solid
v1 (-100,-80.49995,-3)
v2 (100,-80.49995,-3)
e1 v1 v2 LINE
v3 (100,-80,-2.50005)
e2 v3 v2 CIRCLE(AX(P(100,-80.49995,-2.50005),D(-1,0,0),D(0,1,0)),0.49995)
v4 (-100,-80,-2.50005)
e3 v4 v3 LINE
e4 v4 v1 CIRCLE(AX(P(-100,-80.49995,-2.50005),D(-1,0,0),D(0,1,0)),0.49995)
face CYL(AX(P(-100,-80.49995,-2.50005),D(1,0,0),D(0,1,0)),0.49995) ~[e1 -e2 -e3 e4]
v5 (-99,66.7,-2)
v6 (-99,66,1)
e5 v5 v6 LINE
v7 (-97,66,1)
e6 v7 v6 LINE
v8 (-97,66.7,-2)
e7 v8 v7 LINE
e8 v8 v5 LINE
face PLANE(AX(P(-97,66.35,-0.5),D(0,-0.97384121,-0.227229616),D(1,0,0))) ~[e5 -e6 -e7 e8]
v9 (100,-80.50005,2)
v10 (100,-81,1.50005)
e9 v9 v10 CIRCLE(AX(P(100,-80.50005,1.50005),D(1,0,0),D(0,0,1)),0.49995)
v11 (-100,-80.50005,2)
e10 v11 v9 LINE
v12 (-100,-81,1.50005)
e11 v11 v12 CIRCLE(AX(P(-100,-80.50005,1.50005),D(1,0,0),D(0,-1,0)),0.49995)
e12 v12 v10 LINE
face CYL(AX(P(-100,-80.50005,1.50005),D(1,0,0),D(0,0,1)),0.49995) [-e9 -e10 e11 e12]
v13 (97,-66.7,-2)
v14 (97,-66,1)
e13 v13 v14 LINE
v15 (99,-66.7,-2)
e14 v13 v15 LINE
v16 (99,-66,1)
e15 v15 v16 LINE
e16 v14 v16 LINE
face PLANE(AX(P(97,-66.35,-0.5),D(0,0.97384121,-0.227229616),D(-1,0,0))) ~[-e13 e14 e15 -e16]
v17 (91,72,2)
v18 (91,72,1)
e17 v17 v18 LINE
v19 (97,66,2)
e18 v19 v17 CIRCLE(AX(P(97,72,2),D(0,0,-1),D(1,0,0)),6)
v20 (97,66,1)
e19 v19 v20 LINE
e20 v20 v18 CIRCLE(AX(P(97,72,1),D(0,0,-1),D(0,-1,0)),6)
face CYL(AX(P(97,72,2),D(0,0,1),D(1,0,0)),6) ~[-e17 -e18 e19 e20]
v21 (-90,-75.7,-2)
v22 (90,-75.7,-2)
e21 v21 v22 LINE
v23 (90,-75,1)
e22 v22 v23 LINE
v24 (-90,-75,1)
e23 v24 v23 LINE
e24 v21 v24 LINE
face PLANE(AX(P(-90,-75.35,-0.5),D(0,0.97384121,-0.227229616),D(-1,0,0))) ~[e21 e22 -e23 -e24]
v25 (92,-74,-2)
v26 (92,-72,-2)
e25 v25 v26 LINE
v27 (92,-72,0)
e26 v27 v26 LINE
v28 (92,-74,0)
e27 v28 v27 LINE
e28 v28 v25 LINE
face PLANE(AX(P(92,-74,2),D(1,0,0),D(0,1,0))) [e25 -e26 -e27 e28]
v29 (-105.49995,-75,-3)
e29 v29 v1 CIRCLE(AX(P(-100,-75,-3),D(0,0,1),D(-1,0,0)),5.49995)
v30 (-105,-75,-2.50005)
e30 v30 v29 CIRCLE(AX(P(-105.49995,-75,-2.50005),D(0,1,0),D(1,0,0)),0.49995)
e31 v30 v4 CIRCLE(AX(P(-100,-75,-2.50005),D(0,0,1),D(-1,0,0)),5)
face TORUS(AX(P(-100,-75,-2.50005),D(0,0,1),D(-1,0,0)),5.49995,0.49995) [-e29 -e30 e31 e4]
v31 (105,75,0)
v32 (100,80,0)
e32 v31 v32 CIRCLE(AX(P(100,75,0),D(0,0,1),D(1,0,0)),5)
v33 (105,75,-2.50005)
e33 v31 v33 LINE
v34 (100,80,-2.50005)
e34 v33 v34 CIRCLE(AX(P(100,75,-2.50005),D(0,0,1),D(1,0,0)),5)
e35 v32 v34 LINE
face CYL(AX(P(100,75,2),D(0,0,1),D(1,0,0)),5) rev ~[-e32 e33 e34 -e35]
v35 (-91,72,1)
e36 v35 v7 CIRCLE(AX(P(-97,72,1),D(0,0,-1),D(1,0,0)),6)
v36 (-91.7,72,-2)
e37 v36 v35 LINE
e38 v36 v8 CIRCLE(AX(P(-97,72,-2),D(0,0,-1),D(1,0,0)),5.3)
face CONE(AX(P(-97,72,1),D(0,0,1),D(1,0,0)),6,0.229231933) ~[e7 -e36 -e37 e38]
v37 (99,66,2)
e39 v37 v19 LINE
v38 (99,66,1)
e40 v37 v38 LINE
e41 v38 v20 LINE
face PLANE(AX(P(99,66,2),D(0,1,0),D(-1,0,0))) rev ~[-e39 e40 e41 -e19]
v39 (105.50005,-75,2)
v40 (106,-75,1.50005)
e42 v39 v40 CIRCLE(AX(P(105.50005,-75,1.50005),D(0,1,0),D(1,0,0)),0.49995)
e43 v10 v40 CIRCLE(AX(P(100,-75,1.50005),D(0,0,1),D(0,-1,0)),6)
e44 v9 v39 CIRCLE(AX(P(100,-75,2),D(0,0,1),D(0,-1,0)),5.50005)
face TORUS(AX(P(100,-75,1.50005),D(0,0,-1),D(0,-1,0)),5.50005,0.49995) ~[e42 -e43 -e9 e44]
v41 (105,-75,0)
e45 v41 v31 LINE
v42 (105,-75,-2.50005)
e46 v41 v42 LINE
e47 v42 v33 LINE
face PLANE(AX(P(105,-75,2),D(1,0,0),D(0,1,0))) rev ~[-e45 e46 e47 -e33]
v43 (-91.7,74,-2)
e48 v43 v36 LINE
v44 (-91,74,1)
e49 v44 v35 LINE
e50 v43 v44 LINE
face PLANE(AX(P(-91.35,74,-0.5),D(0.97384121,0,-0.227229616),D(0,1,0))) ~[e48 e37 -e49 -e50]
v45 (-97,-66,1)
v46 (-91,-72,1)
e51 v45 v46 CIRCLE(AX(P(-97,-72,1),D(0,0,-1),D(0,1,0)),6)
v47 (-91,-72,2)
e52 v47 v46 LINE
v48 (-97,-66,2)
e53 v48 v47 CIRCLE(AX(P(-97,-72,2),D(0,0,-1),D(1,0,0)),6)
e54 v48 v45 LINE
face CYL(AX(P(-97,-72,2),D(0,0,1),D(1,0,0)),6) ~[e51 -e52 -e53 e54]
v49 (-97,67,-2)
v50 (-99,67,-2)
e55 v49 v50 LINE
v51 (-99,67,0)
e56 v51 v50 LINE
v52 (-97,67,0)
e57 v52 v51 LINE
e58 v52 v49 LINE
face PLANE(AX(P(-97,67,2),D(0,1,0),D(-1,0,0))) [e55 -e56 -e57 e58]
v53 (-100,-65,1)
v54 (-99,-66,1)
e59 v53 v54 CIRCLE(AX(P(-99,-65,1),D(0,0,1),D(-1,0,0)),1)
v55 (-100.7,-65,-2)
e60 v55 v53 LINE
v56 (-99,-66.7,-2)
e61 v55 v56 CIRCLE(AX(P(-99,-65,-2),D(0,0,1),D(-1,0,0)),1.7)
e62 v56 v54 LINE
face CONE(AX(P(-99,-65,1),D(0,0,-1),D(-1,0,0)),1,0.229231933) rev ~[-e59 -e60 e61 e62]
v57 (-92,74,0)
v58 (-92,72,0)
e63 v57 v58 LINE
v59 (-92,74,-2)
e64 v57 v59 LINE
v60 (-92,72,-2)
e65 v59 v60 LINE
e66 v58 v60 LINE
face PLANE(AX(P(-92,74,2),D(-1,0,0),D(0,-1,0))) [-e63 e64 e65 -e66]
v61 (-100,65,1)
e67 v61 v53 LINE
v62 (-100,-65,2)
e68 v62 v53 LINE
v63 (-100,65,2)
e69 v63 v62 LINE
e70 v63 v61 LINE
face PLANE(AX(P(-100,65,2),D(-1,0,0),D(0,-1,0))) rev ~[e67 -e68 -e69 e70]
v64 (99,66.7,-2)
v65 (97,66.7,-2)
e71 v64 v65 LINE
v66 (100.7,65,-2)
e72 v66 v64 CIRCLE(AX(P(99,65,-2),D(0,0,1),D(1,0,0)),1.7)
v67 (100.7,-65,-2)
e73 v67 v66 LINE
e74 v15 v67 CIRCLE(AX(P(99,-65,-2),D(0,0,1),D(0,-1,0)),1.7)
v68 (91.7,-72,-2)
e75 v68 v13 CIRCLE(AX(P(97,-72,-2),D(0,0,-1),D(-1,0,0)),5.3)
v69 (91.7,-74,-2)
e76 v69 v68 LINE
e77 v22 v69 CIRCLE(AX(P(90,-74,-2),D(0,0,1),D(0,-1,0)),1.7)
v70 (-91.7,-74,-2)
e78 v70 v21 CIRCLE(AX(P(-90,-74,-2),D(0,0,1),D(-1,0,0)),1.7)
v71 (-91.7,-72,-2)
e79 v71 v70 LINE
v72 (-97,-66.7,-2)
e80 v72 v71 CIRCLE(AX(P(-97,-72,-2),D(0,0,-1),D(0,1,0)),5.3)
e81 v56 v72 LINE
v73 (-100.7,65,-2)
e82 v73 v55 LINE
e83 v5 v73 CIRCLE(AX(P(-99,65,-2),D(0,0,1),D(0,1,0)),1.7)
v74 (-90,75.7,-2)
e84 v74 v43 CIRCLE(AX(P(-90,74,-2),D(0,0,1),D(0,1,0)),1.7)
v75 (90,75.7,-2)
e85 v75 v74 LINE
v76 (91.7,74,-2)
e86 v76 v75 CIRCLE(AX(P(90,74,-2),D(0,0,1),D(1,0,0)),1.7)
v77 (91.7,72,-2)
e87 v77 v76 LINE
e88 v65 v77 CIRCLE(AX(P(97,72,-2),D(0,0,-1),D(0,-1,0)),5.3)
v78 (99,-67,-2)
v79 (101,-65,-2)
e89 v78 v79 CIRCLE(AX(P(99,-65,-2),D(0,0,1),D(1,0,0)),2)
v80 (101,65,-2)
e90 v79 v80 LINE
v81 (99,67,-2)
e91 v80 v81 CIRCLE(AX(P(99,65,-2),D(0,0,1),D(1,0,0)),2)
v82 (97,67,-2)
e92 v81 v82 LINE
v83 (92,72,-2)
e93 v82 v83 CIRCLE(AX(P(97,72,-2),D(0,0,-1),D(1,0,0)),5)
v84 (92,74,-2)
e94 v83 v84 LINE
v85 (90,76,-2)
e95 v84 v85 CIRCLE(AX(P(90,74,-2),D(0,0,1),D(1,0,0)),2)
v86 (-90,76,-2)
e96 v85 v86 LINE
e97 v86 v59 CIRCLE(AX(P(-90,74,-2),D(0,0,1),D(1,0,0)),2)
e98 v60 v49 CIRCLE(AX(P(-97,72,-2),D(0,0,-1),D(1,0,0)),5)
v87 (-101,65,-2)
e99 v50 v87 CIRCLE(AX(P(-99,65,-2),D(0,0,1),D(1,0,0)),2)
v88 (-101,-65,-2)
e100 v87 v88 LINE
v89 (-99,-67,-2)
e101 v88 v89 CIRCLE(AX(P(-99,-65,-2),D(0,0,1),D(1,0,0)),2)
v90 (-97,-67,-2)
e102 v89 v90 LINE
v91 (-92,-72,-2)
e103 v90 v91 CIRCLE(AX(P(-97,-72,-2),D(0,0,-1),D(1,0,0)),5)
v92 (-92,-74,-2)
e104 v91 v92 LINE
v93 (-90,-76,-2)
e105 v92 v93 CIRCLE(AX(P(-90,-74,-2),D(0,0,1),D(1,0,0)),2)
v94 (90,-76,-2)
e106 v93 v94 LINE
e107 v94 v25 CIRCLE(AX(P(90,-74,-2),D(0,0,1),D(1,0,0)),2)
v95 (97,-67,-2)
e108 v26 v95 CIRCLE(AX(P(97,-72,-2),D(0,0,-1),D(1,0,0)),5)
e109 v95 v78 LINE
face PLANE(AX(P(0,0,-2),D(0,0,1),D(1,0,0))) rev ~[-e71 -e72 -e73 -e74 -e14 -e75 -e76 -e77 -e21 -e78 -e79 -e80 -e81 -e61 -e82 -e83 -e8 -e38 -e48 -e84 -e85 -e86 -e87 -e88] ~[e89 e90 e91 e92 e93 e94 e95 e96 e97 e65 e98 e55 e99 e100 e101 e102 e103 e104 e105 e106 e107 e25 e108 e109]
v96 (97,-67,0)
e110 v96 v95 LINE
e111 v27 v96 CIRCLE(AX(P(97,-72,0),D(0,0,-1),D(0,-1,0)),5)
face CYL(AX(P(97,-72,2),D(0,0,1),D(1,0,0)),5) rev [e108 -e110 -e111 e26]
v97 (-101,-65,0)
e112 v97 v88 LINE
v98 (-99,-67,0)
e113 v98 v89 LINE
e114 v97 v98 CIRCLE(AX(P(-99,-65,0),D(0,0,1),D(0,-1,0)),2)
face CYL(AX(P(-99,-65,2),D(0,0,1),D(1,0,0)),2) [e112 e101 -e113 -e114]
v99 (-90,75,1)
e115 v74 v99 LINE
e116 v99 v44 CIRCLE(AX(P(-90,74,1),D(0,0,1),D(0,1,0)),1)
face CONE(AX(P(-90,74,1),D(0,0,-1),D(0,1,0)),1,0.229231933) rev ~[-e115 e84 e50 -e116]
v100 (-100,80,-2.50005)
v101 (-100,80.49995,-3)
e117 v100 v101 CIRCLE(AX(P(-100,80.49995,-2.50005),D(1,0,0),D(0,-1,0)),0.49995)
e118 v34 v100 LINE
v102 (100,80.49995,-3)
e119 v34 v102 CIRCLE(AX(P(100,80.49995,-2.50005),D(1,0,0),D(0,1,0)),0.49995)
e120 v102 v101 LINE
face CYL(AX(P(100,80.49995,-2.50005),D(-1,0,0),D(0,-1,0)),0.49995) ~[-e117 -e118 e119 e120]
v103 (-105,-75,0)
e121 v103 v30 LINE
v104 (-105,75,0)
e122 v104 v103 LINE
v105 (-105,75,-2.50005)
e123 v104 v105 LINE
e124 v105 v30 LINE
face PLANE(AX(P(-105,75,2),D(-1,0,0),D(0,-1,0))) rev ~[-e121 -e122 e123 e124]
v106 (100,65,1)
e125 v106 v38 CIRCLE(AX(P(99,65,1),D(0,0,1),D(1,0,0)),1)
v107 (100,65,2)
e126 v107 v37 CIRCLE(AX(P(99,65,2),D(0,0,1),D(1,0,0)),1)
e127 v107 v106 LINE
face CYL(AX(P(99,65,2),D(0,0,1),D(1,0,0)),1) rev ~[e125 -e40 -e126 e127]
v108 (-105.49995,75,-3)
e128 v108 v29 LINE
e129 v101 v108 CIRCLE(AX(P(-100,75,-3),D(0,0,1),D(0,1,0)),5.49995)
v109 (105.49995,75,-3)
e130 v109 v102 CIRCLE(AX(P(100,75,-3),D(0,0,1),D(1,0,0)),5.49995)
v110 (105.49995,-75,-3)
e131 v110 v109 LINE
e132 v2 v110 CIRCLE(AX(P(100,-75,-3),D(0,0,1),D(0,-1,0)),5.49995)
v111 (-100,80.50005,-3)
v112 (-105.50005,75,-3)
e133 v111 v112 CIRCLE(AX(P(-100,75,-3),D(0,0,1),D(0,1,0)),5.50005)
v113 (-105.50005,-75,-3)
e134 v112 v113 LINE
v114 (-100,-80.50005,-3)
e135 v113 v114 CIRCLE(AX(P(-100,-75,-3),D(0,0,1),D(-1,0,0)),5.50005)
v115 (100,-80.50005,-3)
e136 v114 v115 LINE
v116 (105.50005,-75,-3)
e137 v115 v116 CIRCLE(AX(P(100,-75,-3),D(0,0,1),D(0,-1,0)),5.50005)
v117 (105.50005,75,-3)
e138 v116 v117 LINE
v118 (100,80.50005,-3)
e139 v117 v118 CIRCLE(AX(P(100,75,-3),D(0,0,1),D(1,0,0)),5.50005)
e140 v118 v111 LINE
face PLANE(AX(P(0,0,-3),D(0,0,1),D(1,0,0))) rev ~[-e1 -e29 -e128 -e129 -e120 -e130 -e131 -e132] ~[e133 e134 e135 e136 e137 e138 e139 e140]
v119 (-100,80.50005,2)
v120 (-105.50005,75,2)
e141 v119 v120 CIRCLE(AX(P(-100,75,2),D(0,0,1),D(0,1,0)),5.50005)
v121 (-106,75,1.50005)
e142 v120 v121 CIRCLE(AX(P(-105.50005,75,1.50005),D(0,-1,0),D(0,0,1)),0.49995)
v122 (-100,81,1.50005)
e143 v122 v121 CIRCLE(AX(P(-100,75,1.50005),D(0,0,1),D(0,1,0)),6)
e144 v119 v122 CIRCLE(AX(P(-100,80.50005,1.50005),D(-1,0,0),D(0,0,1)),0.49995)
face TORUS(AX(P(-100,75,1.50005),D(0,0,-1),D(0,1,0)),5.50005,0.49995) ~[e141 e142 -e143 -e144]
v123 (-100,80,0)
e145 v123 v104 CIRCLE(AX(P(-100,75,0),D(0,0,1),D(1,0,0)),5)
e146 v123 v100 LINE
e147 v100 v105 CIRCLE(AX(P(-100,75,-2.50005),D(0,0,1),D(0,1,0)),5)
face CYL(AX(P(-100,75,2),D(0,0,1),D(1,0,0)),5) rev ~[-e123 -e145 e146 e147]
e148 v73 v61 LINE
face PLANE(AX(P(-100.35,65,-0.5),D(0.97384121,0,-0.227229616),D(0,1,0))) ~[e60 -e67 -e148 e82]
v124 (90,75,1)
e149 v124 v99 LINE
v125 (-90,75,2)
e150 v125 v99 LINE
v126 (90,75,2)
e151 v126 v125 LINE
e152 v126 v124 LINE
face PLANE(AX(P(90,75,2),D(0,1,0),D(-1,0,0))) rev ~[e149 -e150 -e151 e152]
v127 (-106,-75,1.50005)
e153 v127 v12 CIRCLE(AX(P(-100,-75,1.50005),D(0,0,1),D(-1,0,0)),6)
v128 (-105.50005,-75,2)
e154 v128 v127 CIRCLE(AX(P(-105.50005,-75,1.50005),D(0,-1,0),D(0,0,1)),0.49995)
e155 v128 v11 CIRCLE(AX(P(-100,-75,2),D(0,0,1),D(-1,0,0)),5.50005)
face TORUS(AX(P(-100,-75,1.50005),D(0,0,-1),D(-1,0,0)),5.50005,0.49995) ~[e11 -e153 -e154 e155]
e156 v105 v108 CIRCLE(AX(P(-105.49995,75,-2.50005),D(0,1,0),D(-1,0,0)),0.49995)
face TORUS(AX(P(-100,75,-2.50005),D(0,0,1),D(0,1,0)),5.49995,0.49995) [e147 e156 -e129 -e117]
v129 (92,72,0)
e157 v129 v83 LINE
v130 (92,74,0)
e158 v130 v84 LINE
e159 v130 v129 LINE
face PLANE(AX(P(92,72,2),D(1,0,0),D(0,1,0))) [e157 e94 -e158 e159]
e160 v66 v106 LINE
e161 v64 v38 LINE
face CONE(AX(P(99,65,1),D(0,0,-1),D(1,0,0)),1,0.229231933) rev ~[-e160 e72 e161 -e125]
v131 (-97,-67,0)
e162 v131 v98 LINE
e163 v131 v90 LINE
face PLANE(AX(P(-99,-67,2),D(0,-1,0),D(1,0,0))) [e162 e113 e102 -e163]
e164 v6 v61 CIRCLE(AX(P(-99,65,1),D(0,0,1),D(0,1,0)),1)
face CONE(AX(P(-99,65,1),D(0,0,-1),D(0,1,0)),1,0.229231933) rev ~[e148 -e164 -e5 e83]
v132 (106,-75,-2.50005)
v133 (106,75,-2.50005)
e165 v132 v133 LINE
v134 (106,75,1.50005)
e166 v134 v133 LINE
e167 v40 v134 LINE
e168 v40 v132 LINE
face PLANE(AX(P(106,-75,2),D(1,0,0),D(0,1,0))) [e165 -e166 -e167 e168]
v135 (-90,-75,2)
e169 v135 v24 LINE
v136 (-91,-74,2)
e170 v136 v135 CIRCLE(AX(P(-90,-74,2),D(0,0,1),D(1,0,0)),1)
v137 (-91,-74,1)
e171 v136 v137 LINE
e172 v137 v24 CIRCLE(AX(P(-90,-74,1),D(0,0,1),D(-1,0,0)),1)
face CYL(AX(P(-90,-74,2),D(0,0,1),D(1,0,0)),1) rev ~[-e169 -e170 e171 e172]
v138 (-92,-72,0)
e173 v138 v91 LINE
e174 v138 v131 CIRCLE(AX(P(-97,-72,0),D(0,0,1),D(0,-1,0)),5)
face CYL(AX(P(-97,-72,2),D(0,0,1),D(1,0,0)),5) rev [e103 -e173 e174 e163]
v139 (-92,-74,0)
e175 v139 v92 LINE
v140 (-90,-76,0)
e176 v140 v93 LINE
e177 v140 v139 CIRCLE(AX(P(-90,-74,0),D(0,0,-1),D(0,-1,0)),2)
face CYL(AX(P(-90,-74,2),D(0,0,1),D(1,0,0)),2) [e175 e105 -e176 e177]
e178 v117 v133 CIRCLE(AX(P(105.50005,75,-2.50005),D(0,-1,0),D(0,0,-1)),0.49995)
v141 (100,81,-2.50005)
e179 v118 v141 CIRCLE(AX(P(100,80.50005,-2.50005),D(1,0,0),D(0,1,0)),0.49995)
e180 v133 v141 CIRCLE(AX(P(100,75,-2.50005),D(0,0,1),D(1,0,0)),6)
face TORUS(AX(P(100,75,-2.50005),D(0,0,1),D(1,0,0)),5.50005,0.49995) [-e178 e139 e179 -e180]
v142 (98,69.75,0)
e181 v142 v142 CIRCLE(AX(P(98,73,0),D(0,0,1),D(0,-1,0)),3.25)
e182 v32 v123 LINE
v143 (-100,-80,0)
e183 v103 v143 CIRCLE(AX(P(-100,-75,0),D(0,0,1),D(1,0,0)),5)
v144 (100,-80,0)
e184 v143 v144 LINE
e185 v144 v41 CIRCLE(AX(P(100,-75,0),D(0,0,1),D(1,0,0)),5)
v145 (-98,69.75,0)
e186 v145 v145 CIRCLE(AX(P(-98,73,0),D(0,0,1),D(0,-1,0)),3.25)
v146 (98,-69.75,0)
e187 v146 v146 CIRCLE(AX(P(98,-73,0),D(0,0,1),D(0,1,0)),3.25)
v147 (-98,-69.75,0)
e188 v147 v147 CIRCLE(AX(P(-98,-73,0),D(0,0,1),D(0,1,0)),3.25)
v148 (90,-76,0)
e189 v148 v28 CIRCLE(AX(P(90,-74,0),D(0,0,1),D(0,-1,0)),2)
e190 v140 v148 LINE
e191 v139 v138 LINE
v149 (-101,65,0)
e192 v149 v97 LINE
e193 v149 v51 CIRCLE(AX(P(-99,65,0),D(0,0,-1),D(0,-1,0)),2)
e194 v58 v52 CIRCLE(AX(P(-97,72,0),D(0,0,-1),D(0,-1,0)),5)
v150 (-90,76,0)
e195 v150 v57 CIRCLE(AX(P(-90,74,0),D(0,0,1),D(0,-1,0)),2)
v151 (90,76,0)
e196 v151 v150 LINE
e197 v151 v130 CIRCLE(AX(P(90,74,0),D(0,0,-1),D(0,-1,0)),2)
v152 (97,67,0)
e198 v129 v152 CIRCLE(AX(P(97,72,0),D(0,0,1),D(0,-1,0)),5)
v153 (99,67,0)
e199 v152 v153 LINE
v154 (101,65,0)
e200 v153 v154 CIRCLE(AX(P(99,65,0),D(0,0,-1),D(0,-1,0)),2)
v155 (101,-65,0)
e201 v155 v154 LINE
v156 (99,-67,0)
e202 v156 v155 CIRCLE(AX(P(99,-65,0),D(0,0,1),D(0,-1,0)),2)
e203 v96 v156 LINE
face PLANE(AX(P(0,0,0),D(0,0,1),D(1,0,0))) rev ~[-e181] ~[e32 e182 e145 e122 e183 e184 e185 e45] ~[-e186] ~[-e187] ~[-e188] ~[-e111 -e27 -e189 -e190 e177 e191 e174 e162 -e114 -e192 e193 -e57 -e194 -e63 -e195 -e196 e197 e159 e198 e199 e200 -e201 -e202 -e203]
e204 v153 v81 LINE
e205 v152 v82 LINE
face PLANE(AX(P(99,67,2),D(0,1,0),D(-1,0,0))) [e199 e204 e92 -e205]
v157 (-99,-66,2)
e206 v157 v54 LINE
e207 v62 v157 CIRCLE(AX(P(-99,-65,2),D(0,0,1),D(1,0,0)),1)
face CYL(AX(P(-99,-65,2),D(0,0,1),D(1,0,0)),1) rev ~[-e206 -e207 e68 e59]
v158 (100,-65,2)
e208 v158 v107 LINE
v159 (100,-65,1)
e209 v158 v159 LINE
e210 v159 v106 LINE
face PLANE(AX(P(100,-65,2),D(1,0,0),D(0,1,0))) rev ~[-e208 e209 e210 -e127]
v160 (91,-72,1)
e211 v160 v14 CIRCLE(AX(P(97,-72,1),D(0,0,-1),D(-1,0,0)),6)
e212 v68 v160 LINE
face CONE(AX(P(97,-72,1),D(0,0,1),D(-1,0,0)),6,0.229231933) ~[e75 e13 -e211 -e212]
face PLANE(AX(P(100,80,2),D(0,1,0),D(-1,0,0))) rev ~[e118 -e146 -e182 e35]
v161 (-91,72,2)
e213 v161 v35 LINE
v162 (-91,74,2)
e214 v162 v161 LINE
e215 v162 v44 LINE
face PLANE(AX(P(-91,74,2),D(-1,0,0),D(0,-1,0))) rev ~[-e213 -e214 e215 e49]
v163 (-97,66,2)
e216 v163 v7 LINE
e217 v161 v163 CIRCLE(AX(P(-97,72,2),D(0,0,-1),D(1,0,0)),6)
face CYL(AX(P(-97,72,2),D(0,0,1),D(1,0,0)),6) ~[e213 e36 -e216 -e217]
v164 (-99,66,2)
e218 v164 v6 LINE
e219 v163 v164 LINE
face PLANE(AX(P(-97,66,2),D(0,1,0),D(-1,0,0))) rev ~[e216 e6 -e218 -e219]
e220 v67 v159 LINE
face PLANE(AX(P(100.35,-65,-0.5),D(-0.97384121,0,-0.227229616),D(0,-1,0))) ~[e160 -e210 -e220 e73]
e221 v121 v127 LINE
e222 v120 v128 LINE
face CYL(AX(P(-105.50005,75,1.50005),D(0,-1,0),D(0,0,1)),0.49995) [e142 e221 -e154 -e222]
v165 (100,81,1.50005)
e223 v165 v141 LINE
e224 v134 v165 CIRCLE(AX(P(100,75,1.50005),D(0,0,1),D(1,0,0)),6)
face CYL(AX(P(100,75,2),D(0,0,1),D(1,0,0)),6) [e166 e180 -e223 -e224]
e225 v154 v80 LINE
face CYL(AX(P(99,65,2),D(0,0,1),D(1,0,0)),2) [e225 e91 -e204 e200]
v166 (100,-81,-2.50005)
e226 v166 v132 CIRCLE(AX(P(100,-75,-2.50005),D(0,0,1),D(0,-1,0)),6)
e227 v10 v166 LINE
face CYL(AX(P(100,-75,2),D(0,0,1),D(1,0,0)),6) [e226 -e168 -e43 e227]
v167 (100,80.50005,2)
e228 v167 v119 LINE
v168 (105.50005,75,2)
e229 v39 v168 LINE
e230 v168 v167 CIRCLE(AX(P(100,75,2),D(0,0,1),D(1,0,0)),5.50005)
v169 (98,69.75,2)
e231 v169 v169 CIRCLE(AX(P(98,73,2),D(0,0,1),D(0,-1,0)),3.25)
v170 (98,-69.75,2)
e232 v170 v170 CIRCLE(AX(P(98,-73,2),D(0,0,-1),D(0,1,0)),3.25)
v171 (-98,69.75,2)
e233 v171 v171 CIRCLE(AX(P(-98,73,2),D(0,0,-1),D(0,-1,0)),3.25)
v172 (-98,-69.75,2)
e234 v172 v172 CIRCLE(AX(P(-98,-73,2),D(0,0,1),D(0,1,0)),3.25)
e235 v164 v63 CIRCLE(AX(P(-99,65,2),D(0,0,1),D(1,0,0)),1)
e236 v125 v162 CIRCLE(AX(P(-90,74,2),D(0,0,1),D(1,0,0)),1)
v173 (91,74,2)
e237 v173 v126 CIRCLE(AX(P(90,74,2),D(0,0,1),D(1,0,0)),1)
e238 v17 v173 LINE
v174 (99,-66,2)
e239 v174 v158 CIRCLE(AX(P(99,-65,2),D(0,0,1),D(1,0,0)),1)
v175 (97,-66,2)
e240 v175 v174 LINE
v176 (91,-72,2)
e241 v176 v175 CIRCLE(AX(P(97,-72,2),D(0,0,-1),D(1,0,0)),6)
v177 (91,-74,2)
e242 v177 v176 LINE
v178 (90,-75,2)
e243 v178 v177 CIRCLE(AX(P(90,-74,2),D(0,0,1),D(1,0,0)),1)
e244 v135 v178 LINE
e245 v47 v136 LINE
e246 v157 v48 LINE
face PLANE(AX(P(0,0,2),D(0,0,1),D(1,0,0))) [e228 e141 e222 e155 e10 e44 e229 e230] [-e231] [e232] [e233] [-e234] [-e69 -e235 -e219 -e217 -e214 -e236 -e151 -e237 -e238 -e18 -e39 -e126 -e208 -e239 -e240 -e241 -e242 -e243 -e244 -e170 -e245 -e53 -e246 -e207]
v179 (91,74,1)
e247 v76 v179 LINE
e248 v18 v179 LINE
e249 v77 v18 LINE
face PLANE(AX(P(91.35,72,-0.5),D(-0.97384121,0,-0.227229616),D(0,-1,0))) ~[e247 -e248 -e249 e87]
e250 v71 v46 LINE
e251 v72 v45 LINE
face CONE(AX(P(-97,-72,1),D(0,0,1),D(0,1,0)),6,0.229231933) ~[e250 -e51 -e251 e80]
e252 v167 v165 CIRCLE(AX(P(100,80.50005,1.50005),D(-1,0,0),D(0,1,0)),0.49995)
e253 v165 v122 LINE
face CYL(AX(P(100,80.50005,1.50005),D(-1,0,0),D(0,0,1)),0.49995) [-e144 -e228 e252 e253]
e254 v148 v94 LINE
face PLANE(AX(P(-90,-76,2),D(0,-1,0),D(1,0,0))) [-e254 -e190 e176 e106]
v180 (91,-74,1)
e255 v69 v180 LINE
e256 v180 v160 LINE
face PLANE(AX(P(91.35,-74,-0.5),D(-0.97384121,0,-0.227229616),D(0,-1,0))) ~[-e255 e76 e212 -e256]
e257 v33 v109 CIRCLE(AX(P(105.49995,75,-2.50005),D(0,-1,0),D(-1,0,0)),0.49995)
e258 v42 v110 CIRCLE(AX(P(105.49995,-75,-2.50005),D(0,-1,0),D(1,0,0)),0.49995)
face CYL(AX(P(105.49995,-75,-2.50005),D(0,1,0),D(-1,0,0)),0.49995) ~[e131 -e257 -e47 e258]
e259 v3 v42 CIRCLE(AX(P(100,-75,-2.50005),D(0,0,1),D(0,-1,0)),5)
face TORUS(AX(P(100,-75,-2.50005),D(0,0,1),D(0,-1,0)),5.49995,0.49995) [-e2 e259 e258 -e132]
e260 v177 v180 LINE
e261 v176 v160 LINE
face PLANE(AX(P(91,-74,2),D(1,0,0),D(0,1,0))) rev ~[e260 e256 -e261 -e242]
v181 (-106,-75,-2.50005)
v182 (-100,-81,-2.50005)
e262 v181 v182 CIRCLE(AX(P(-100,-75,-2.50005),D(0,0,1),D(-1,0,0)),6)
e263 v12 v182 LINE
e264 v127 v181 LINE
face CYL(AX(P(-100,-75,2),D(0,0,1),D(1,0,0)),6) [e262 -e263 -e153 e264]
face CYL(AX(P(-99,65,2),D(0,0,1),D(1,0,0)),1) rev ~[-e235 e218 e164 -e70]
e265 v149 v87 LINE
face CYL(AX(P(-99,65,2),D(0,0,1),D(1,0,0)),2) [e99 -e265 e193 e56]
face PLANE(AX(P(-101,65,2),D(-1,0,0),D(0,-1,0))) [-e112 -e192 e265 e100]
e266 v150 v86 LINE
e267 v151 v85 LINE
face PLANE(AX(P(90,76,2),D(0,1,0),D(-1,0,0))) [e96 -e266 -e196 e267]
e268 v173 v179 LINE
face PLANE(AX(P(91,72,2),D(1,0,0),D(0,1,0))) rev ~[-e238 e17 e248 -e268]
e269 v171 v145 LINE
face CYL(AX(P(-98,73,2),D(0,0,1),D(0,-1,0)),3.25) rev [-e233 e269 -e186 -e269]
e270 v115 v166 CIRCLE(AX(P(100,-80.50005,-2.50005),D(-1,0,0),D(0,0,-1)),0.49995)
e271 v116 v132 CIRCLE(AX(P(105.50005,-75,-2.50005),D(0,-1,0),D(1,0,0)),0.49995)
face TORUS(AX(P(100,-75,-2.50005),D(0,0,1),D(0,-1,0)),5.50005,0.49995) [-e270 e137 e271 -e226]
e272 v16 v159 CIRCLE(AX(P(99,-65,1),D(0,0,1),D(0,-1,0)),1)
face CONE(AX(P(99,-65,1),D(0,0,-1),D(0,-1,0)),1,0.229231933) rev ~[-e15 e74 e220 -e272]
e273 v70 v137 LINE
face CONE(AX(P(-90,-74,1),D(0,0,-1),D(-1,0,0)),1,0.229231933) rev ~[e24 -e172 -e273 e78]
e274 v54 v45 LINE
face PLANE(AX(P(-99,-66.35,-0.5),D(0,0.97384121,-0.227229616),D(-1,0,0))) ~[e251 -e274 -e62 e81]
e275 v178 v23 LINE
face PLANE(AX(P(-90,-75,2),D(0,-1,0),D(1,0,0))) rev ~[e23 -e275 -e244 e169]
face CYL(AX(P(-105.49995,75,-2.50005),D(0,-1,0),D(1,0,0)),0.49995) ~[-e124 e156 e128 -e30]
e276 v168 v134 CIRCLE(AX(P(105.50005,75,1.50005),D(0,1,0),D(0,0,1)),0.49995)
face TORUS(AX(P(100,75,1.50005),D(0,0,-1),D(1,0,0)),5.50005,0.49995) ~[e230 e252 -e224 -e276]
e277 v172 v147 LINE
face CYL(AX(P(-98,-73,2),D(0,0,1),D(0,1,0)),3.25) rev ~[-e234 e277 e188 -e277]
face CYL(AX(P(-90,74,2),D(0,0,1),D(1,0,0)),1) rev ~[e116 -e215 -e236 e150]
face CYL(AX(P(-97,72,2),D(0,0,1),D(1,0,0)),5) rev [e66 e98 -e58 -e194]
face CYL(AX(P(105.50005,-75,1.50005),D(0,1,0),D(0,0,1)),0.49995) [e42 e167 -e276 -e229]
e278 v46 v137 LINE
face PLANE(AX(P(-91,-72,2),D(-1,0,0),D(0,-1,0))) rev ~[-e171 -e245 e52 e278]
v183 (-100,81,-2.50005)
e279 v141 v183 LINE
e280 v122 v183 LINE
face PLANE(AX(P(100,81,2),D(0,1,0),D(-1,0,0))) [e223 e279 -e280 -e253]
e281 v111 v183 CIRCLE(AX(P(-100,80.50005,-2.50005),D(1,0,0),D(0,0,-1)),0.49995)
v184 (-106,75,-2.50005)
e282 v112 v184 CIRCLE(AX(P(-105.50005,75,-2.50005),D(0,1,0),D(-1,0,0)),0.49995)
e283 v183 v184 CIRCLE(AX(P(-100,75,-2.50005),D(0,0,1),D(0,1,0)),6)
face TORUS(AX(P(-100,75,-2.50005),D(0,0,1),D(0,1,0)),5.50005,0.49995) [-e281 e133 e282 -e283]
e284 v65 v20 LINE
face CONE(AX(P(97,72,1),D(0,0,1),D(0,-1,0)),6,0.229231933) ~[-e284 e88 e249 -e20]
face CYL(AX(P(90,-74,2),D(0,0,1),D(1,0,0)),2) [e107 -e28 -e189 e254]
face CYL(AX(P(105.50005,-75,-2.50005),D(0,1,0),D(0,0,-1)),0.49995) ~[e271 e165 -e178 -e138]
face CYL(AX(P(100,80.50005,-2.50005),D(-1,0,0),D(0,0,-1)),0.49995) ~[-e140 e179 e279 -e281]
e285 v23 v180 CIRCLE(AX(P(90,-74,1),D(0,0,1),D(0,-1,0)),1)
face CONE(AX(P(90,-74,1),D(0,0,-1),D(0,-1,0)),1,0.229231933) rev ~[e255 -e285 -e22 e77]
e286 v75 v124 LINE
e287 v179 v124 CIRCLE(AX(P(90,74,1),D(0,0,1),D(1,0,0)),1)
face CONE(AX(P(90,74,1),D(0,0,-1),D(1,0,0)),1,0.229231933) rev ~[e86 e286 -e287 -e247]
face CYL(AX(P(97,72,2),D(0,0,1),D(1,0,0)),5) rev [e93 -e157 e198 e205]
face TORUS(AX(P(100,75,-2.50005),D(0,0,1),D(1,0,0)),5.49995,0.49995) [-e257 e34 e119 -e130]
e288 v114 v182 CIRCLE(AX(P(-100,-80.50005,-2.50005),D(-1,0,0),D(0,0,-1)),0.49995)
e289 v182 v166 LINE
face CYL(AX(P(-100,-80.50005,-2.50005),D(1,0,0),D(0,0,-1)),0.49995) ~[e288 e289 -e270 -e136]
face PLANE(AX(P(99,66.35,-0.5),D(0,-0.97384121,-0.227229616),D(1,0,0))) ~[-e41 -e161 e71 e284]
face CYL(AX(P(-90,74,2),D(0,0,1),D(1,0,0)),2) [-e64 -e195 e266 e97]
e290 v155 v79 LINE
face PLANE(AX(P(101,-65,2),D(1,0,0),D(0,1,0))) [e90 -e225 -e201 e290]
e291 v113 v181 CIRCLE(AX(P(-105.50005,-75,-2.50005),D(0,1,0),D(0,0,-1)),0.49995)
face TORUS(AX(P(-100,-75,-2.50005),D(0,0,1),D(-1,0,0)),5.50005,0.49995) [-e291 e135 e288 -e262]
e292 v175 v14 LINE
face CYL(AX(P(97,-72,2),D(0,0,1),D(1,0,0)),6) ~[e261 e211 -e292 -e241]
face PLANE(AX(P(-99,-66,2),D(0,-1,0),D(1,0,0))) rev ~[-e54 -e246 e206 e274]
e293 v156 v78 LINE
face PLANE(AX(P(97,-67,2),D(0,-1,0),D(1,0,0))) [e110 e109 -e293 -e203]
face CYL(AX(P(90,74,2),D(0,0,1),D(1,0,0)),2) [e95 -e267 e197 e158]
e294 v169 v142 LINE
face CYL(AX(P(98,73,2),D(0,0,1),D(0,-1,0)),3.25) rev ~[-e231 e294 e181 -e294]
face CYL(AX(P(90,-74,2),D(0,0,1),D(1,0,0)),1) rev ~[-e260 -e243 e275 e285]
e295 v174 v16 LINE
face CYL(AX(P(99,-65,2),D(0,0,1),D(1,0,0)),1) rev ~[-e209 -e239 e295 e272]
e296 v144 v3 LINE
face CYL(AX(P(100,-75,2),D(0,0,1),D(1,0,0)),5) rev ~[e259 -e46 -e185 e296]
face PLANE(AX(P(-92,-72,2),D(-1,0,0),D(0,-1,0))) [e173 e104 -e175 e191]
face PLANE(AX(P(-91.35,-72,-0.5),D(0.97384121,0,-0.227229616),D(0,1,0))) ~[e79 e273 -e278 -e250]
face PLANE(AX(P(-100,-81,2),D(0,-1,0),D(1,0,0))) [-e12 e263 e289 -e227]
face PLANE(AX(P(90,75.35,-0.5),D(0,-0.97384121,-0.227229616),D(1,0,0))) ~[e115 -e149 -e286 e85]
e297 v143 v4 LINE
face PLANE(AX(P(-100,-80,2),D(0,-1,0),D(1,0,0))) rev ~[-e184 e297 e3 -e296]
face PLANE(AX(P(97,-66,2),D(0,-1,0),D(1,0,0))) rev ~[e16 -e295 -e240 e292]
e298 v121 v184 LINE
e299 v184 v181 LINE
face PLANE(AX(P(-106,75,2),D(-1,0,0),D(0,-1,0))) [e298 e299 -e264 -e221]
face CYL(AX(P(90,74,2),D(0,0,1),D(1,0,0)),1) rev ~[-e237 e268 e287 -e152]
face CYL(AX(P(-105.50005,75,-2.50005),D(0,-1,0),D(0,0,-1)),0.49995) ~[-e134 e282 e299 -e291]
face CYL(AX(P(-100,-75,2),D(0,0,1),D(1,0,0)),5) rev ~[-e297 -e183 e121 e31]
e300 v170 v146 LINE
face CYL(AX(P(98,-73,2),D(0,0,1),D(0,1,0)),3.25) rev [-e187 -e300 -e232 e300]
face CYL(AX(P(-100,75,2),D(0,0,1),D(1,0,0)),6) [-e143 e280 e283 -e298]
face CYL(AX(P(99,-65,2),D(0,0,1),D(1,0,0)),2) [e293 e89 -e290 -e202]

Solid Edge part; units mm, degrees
sketch "Sketch1" plane through (0, 0, 0) normal (0, 0, 1) x (1, 0, 0)
  line L0 (-101, 75) -> (-101, -75)
  arc A0 (-101, -75) -> (-100, -76) centre (-100, -75) ccw
  line L1 (-100, -76) -> (100, -76)
  arc A1 (100, -76) -> (101, -75) centre (100, -75) ccw
  line L2 (101, -75) -> (101, 75)
  arc A2 (101, 75) -> (100, 76) centre (100, 75) ccw
  line L3 (100, 76) -> (-100, 76)
  arc A3 (-100, 76) -> (-101, 75) centre (-100, 75) ccw
  line L4 (-100, -80) -> (100, -80)
  arc A4 (100, -80) -> (105, -75) centre (100, -75) ccw
  line L5 (105, -75) -> (105, 75)
  arc A5 (105, 75) -> (100, 80) centre (100, 75) ccw
  line L6 (100, 80) -> (-100, 80)
  arc A6 (-100, 80) -> (-105, 75) centre (-100, 75) ccw
  line L7 (-105, 75) -> (-105, -75)
  arc A7 (-105, -75) -> (-100, -80) centre (-100, -75) ccw
extrude "Protrusion1" add sketch "Sketch1" along normal blind 2
sketch "Sketch2" plane through (0, 0, 0) normal (0, 0, 1) x (1, 0, 0)
  line L0 (-92, 76) -> (-100, 76)
  arc A0 (-100, 76) -> (-101, 75) centre (-100, 75) ccw
  line L1 (-101, 75) -> (-101, 67)
  line L2 (-92, 67) -> (-101, 67)
  line L3 (-92, 76) -> (-92, 67)
  dimension "D1" = 9
extrude "Protrusion2" add sketch "Sketch2" along normal up to surface (2 mm away)
hole "Bohrung_1" at (-98, 73, 2) direction (0, 0, -1) diameter 6.5 end through all
fillet "Verrundung_1" radius 2 2 edges at (-92, 76, 1) (-101, 67, 1)
fillet "Verrundung_2" radius 5 1 edges at (-92, 67, 1)
mirror "Mirror1" about plane through (0, 0, 0) normal (1, 0, 0) of "Protrusion2", "Bohrung_1"
fillet "Round1" radius 2 2 edges at (92, 76, 1) (101, 67, 1)
fillet "Round2" radius 5 1 edges at (92, 67, 1)
mirror "Mirror2" about plane through (0, 0, 0) normal (0, -1, 0) of "Protrusion2", "Mirror1", "Bohrung_1"
fillet "Round3" radius 2 2 edges at (-92, -76, 1) (-101, -67, 1)
fillet "Round4" radius 5 1 edges at (-92, -67, 1)
fillet "Round5" radius 2 2 edges at (92, -76, 1) (101, -67, 1)
fillet "Round6" radius 5 1 edges at (92, -67, 1)
sketch "Sketch3" plane through (0, 0, 2) normal (0, 0, 1) x (1, 0, 0)
  line L0 (-100, 65) -> (-100, -65)
  arc A0 (-100, -65) -> (-99, -66) centre (-99, -65) ccw
  line L1 (-99, -66) -> (-97, -66)
  arc A1 (-97, -66) -> (-91, -72) centre (-97, -72) cw
  line L2 (-91, -72) -> (-91, -74)
  arc A2 (-91, -74) -> (-90, -75) centre (-90, -74) ccw
  line L3 (-90, -75) -> (90, -75)
  arc A3 (90, -75) -> (91, -74) centre (90, -74) ccw
  line L4 (91, -74) -> (91, -72)
  arc A4 (91, -72) -> (97, -66) centre (97, -72) cw
  line L5 (97, -66) -> (99, -66)
  arc A5 (99, -66) -> (100, -65) centre (99, -65) ccw
  line L6 (100, -65) -> (100, 65)
  arc A6 (100, 65) -> (99, 66) centre (99, 65) ccw
  line L7 (99, 66) -> (97, 66)
  arc A7 (97, 66) -> (91, 72) centre (97, 72) cw
  line L8 (91, 72) -> (91, 74)
  arc A8 (91, 74) -> (90, 75) centre (90, 74) ccw
  line L9 (90, 75) -> (-90, 75)
  arc A9 (-90, 75) -> (-91, 74) centre (-90, 74) ccw
  line L10 (-91, 74) -> (-91, 72)
  arc A10 (-91, 72) -> (-97, 66) centre (-97, 72) cw
  line L11 (-97, 66) -> (-99, 66)
  arc A11 (-99, 66) -> (-100, 65) centre (-99, 65) ccw
  line L12 (-92, 74) -> (-92, 72)
  arc A12 (-92, 72) -> (-97, 67) centre (-97, 72) cw
  line L13 (-97, 67) -> (-99, 67)
  arc A13 (-99, 67) -> (-101, 65) centre (-99, 65) ccw
  line L14 (-101, 65) -> (-101, -65)
  arc A14 (-101, -65) -> (-99, -67) centre (-99, -65) ccw
  line L15 (-99, -67) -> (-97, -67)
  arc A15 (-97, -67) -> (-92, -72) centre (-97, -72) cw
  line L16 (-92, -72) -> (-92, -74)
  arc A16 (-92, -74) -> (-90, -76) centre (-90, -74) ccw
  line L17 (-90, -76) -> (90, -76)
  arc A17 (90, -76) -> (92, -74) centre (90, -74) ccw
  line L18 (92, -74) -> (92, -72)
  arc A18 (92, -72) -> (97, -67) centre (97, -72) cw
  line L19 (97, -67) -> (99, -67)
  arc A19 (99, -67) -> (101, -65) centre (99, -65) ccw
  line L20 (101, -65) -> (101, 65)
  arc A20 (101, 65) -> (99, 67) centre (99, 65) ccw
  line L21 (99, 67) -> (97, 67)
  arc A21 (97, 67) -> (92, 72) centre (97, 72) cw
  line L22 (92, 72) -> (92, 74)
  arc A22 (92, 74) -> (90, 76) centre (90, 74) ccw
  line L23 (90, 76) -> (-90, 76)
  arc A23 (-90, 76) -> (-92, 74) centre (-90, 74) ccw
extrude "Ausprägung_6" add sketch "Sketch3" against normal blind 4
sketch "Sketch4" plane through (0, 0, 2) normal (0, 0, 1) x (1, 0, 0)
  line L0 (100, 81) -> (-100, 81)
  arc A0 (-100, 81) -> (-106, 75) centre (-100, 75) ccw
  line L1 (-106, 75) -> (-106, -75)
  arc A1 (-106, -75) -> (-100, -81) centre (-100, -75) ccw
  line L2 (-100, -81) -> (100, -81)
  arc A2 (100, -81) -> (106, -75) centre (100, -75) ccw
  line L3 (106, -75) -> (106, 75)
  arc A3 (106, 75) -> (100, 81) centre (100, 75) ccw
  line L4 (100, 80) -> (-100, 80)
  arc A4 (-100, 80) -> (-105, 75) centre (-100, 75) ccw
  line L5 (-105, 75) -> (-105, -75)
  arc A5 (-105, -75) -> (-100, -80) centre (-100, -75) ccw
  line L6 (-100, -80) -> (100, -80)
  arc A6 (100, -80) -> (105, -75) centre (100, -75) ccw
  line L7 (105, -75) -> (105, 75)
  arc A7 (105, 75) -> (100, 80) centre (100, 75) ccw
extrude "Ausprägung_7" add sketch "Sketch4" against normal blind 5
fillet "Verrundung_9" radius 0.5 24 edges at (0, -81, -3) (104.2426, -79.2426, -3) (106, 0, -3) (104.2426, 79.2426, -3) (0, 81, -3) (-104.2426, 79.2426, -3) (-106, 0, -3) (-104.2426, -79.2426, -3) (0, -80, -3) (103.5355, -78.5355, -3) (105, 0, -3) (103.5355, 78.5355, -3) (0, 80, -3) (-103.5355, 78.5355, -3) (-105, 0, -3) (-103.5355, -78.5355, -3) (-106, 0, 2) (-104.2426, -79.2426, 2) (0, -81, 2) (104.2426, -79.2426, 2) (106, 0, 2) (104.2426, 79.2426, 2) (0, 81, 2) (-104.2426, 79.2426, 2)
chamfer "Fase_1" distance 0.7 distance2 3 24 edges at (-91, -73, -2) (-90.7071, -74.7071, -2) (0, -75, -2) (90.7071, -74.7071, -2) (91, -73, -2) (92.7574, -67.7574, -2) (98, -66, -2) (99.7071, -65.7071, -2) (100, 0, -2) (99.7071, 65.7071, -2) (98, 66, -2) (92.7574, 67.7574, -2) (91, 73, -2) (90.7071, 74.7071, -2) (0, 75, -2) (-90.7071, 74.7071, -2) (-91, 73, -2) (-92.7574, 67.7574, -2) (-98, 66, -2) (-99.7071, 65.7071, -2) (-100, 0, -2) (-99.7071, -65.7071, -2) (-98, -66, -2) (-92.7574, -67.7574, -2) measured on face at (-97.2024, -66.6976, -2)
